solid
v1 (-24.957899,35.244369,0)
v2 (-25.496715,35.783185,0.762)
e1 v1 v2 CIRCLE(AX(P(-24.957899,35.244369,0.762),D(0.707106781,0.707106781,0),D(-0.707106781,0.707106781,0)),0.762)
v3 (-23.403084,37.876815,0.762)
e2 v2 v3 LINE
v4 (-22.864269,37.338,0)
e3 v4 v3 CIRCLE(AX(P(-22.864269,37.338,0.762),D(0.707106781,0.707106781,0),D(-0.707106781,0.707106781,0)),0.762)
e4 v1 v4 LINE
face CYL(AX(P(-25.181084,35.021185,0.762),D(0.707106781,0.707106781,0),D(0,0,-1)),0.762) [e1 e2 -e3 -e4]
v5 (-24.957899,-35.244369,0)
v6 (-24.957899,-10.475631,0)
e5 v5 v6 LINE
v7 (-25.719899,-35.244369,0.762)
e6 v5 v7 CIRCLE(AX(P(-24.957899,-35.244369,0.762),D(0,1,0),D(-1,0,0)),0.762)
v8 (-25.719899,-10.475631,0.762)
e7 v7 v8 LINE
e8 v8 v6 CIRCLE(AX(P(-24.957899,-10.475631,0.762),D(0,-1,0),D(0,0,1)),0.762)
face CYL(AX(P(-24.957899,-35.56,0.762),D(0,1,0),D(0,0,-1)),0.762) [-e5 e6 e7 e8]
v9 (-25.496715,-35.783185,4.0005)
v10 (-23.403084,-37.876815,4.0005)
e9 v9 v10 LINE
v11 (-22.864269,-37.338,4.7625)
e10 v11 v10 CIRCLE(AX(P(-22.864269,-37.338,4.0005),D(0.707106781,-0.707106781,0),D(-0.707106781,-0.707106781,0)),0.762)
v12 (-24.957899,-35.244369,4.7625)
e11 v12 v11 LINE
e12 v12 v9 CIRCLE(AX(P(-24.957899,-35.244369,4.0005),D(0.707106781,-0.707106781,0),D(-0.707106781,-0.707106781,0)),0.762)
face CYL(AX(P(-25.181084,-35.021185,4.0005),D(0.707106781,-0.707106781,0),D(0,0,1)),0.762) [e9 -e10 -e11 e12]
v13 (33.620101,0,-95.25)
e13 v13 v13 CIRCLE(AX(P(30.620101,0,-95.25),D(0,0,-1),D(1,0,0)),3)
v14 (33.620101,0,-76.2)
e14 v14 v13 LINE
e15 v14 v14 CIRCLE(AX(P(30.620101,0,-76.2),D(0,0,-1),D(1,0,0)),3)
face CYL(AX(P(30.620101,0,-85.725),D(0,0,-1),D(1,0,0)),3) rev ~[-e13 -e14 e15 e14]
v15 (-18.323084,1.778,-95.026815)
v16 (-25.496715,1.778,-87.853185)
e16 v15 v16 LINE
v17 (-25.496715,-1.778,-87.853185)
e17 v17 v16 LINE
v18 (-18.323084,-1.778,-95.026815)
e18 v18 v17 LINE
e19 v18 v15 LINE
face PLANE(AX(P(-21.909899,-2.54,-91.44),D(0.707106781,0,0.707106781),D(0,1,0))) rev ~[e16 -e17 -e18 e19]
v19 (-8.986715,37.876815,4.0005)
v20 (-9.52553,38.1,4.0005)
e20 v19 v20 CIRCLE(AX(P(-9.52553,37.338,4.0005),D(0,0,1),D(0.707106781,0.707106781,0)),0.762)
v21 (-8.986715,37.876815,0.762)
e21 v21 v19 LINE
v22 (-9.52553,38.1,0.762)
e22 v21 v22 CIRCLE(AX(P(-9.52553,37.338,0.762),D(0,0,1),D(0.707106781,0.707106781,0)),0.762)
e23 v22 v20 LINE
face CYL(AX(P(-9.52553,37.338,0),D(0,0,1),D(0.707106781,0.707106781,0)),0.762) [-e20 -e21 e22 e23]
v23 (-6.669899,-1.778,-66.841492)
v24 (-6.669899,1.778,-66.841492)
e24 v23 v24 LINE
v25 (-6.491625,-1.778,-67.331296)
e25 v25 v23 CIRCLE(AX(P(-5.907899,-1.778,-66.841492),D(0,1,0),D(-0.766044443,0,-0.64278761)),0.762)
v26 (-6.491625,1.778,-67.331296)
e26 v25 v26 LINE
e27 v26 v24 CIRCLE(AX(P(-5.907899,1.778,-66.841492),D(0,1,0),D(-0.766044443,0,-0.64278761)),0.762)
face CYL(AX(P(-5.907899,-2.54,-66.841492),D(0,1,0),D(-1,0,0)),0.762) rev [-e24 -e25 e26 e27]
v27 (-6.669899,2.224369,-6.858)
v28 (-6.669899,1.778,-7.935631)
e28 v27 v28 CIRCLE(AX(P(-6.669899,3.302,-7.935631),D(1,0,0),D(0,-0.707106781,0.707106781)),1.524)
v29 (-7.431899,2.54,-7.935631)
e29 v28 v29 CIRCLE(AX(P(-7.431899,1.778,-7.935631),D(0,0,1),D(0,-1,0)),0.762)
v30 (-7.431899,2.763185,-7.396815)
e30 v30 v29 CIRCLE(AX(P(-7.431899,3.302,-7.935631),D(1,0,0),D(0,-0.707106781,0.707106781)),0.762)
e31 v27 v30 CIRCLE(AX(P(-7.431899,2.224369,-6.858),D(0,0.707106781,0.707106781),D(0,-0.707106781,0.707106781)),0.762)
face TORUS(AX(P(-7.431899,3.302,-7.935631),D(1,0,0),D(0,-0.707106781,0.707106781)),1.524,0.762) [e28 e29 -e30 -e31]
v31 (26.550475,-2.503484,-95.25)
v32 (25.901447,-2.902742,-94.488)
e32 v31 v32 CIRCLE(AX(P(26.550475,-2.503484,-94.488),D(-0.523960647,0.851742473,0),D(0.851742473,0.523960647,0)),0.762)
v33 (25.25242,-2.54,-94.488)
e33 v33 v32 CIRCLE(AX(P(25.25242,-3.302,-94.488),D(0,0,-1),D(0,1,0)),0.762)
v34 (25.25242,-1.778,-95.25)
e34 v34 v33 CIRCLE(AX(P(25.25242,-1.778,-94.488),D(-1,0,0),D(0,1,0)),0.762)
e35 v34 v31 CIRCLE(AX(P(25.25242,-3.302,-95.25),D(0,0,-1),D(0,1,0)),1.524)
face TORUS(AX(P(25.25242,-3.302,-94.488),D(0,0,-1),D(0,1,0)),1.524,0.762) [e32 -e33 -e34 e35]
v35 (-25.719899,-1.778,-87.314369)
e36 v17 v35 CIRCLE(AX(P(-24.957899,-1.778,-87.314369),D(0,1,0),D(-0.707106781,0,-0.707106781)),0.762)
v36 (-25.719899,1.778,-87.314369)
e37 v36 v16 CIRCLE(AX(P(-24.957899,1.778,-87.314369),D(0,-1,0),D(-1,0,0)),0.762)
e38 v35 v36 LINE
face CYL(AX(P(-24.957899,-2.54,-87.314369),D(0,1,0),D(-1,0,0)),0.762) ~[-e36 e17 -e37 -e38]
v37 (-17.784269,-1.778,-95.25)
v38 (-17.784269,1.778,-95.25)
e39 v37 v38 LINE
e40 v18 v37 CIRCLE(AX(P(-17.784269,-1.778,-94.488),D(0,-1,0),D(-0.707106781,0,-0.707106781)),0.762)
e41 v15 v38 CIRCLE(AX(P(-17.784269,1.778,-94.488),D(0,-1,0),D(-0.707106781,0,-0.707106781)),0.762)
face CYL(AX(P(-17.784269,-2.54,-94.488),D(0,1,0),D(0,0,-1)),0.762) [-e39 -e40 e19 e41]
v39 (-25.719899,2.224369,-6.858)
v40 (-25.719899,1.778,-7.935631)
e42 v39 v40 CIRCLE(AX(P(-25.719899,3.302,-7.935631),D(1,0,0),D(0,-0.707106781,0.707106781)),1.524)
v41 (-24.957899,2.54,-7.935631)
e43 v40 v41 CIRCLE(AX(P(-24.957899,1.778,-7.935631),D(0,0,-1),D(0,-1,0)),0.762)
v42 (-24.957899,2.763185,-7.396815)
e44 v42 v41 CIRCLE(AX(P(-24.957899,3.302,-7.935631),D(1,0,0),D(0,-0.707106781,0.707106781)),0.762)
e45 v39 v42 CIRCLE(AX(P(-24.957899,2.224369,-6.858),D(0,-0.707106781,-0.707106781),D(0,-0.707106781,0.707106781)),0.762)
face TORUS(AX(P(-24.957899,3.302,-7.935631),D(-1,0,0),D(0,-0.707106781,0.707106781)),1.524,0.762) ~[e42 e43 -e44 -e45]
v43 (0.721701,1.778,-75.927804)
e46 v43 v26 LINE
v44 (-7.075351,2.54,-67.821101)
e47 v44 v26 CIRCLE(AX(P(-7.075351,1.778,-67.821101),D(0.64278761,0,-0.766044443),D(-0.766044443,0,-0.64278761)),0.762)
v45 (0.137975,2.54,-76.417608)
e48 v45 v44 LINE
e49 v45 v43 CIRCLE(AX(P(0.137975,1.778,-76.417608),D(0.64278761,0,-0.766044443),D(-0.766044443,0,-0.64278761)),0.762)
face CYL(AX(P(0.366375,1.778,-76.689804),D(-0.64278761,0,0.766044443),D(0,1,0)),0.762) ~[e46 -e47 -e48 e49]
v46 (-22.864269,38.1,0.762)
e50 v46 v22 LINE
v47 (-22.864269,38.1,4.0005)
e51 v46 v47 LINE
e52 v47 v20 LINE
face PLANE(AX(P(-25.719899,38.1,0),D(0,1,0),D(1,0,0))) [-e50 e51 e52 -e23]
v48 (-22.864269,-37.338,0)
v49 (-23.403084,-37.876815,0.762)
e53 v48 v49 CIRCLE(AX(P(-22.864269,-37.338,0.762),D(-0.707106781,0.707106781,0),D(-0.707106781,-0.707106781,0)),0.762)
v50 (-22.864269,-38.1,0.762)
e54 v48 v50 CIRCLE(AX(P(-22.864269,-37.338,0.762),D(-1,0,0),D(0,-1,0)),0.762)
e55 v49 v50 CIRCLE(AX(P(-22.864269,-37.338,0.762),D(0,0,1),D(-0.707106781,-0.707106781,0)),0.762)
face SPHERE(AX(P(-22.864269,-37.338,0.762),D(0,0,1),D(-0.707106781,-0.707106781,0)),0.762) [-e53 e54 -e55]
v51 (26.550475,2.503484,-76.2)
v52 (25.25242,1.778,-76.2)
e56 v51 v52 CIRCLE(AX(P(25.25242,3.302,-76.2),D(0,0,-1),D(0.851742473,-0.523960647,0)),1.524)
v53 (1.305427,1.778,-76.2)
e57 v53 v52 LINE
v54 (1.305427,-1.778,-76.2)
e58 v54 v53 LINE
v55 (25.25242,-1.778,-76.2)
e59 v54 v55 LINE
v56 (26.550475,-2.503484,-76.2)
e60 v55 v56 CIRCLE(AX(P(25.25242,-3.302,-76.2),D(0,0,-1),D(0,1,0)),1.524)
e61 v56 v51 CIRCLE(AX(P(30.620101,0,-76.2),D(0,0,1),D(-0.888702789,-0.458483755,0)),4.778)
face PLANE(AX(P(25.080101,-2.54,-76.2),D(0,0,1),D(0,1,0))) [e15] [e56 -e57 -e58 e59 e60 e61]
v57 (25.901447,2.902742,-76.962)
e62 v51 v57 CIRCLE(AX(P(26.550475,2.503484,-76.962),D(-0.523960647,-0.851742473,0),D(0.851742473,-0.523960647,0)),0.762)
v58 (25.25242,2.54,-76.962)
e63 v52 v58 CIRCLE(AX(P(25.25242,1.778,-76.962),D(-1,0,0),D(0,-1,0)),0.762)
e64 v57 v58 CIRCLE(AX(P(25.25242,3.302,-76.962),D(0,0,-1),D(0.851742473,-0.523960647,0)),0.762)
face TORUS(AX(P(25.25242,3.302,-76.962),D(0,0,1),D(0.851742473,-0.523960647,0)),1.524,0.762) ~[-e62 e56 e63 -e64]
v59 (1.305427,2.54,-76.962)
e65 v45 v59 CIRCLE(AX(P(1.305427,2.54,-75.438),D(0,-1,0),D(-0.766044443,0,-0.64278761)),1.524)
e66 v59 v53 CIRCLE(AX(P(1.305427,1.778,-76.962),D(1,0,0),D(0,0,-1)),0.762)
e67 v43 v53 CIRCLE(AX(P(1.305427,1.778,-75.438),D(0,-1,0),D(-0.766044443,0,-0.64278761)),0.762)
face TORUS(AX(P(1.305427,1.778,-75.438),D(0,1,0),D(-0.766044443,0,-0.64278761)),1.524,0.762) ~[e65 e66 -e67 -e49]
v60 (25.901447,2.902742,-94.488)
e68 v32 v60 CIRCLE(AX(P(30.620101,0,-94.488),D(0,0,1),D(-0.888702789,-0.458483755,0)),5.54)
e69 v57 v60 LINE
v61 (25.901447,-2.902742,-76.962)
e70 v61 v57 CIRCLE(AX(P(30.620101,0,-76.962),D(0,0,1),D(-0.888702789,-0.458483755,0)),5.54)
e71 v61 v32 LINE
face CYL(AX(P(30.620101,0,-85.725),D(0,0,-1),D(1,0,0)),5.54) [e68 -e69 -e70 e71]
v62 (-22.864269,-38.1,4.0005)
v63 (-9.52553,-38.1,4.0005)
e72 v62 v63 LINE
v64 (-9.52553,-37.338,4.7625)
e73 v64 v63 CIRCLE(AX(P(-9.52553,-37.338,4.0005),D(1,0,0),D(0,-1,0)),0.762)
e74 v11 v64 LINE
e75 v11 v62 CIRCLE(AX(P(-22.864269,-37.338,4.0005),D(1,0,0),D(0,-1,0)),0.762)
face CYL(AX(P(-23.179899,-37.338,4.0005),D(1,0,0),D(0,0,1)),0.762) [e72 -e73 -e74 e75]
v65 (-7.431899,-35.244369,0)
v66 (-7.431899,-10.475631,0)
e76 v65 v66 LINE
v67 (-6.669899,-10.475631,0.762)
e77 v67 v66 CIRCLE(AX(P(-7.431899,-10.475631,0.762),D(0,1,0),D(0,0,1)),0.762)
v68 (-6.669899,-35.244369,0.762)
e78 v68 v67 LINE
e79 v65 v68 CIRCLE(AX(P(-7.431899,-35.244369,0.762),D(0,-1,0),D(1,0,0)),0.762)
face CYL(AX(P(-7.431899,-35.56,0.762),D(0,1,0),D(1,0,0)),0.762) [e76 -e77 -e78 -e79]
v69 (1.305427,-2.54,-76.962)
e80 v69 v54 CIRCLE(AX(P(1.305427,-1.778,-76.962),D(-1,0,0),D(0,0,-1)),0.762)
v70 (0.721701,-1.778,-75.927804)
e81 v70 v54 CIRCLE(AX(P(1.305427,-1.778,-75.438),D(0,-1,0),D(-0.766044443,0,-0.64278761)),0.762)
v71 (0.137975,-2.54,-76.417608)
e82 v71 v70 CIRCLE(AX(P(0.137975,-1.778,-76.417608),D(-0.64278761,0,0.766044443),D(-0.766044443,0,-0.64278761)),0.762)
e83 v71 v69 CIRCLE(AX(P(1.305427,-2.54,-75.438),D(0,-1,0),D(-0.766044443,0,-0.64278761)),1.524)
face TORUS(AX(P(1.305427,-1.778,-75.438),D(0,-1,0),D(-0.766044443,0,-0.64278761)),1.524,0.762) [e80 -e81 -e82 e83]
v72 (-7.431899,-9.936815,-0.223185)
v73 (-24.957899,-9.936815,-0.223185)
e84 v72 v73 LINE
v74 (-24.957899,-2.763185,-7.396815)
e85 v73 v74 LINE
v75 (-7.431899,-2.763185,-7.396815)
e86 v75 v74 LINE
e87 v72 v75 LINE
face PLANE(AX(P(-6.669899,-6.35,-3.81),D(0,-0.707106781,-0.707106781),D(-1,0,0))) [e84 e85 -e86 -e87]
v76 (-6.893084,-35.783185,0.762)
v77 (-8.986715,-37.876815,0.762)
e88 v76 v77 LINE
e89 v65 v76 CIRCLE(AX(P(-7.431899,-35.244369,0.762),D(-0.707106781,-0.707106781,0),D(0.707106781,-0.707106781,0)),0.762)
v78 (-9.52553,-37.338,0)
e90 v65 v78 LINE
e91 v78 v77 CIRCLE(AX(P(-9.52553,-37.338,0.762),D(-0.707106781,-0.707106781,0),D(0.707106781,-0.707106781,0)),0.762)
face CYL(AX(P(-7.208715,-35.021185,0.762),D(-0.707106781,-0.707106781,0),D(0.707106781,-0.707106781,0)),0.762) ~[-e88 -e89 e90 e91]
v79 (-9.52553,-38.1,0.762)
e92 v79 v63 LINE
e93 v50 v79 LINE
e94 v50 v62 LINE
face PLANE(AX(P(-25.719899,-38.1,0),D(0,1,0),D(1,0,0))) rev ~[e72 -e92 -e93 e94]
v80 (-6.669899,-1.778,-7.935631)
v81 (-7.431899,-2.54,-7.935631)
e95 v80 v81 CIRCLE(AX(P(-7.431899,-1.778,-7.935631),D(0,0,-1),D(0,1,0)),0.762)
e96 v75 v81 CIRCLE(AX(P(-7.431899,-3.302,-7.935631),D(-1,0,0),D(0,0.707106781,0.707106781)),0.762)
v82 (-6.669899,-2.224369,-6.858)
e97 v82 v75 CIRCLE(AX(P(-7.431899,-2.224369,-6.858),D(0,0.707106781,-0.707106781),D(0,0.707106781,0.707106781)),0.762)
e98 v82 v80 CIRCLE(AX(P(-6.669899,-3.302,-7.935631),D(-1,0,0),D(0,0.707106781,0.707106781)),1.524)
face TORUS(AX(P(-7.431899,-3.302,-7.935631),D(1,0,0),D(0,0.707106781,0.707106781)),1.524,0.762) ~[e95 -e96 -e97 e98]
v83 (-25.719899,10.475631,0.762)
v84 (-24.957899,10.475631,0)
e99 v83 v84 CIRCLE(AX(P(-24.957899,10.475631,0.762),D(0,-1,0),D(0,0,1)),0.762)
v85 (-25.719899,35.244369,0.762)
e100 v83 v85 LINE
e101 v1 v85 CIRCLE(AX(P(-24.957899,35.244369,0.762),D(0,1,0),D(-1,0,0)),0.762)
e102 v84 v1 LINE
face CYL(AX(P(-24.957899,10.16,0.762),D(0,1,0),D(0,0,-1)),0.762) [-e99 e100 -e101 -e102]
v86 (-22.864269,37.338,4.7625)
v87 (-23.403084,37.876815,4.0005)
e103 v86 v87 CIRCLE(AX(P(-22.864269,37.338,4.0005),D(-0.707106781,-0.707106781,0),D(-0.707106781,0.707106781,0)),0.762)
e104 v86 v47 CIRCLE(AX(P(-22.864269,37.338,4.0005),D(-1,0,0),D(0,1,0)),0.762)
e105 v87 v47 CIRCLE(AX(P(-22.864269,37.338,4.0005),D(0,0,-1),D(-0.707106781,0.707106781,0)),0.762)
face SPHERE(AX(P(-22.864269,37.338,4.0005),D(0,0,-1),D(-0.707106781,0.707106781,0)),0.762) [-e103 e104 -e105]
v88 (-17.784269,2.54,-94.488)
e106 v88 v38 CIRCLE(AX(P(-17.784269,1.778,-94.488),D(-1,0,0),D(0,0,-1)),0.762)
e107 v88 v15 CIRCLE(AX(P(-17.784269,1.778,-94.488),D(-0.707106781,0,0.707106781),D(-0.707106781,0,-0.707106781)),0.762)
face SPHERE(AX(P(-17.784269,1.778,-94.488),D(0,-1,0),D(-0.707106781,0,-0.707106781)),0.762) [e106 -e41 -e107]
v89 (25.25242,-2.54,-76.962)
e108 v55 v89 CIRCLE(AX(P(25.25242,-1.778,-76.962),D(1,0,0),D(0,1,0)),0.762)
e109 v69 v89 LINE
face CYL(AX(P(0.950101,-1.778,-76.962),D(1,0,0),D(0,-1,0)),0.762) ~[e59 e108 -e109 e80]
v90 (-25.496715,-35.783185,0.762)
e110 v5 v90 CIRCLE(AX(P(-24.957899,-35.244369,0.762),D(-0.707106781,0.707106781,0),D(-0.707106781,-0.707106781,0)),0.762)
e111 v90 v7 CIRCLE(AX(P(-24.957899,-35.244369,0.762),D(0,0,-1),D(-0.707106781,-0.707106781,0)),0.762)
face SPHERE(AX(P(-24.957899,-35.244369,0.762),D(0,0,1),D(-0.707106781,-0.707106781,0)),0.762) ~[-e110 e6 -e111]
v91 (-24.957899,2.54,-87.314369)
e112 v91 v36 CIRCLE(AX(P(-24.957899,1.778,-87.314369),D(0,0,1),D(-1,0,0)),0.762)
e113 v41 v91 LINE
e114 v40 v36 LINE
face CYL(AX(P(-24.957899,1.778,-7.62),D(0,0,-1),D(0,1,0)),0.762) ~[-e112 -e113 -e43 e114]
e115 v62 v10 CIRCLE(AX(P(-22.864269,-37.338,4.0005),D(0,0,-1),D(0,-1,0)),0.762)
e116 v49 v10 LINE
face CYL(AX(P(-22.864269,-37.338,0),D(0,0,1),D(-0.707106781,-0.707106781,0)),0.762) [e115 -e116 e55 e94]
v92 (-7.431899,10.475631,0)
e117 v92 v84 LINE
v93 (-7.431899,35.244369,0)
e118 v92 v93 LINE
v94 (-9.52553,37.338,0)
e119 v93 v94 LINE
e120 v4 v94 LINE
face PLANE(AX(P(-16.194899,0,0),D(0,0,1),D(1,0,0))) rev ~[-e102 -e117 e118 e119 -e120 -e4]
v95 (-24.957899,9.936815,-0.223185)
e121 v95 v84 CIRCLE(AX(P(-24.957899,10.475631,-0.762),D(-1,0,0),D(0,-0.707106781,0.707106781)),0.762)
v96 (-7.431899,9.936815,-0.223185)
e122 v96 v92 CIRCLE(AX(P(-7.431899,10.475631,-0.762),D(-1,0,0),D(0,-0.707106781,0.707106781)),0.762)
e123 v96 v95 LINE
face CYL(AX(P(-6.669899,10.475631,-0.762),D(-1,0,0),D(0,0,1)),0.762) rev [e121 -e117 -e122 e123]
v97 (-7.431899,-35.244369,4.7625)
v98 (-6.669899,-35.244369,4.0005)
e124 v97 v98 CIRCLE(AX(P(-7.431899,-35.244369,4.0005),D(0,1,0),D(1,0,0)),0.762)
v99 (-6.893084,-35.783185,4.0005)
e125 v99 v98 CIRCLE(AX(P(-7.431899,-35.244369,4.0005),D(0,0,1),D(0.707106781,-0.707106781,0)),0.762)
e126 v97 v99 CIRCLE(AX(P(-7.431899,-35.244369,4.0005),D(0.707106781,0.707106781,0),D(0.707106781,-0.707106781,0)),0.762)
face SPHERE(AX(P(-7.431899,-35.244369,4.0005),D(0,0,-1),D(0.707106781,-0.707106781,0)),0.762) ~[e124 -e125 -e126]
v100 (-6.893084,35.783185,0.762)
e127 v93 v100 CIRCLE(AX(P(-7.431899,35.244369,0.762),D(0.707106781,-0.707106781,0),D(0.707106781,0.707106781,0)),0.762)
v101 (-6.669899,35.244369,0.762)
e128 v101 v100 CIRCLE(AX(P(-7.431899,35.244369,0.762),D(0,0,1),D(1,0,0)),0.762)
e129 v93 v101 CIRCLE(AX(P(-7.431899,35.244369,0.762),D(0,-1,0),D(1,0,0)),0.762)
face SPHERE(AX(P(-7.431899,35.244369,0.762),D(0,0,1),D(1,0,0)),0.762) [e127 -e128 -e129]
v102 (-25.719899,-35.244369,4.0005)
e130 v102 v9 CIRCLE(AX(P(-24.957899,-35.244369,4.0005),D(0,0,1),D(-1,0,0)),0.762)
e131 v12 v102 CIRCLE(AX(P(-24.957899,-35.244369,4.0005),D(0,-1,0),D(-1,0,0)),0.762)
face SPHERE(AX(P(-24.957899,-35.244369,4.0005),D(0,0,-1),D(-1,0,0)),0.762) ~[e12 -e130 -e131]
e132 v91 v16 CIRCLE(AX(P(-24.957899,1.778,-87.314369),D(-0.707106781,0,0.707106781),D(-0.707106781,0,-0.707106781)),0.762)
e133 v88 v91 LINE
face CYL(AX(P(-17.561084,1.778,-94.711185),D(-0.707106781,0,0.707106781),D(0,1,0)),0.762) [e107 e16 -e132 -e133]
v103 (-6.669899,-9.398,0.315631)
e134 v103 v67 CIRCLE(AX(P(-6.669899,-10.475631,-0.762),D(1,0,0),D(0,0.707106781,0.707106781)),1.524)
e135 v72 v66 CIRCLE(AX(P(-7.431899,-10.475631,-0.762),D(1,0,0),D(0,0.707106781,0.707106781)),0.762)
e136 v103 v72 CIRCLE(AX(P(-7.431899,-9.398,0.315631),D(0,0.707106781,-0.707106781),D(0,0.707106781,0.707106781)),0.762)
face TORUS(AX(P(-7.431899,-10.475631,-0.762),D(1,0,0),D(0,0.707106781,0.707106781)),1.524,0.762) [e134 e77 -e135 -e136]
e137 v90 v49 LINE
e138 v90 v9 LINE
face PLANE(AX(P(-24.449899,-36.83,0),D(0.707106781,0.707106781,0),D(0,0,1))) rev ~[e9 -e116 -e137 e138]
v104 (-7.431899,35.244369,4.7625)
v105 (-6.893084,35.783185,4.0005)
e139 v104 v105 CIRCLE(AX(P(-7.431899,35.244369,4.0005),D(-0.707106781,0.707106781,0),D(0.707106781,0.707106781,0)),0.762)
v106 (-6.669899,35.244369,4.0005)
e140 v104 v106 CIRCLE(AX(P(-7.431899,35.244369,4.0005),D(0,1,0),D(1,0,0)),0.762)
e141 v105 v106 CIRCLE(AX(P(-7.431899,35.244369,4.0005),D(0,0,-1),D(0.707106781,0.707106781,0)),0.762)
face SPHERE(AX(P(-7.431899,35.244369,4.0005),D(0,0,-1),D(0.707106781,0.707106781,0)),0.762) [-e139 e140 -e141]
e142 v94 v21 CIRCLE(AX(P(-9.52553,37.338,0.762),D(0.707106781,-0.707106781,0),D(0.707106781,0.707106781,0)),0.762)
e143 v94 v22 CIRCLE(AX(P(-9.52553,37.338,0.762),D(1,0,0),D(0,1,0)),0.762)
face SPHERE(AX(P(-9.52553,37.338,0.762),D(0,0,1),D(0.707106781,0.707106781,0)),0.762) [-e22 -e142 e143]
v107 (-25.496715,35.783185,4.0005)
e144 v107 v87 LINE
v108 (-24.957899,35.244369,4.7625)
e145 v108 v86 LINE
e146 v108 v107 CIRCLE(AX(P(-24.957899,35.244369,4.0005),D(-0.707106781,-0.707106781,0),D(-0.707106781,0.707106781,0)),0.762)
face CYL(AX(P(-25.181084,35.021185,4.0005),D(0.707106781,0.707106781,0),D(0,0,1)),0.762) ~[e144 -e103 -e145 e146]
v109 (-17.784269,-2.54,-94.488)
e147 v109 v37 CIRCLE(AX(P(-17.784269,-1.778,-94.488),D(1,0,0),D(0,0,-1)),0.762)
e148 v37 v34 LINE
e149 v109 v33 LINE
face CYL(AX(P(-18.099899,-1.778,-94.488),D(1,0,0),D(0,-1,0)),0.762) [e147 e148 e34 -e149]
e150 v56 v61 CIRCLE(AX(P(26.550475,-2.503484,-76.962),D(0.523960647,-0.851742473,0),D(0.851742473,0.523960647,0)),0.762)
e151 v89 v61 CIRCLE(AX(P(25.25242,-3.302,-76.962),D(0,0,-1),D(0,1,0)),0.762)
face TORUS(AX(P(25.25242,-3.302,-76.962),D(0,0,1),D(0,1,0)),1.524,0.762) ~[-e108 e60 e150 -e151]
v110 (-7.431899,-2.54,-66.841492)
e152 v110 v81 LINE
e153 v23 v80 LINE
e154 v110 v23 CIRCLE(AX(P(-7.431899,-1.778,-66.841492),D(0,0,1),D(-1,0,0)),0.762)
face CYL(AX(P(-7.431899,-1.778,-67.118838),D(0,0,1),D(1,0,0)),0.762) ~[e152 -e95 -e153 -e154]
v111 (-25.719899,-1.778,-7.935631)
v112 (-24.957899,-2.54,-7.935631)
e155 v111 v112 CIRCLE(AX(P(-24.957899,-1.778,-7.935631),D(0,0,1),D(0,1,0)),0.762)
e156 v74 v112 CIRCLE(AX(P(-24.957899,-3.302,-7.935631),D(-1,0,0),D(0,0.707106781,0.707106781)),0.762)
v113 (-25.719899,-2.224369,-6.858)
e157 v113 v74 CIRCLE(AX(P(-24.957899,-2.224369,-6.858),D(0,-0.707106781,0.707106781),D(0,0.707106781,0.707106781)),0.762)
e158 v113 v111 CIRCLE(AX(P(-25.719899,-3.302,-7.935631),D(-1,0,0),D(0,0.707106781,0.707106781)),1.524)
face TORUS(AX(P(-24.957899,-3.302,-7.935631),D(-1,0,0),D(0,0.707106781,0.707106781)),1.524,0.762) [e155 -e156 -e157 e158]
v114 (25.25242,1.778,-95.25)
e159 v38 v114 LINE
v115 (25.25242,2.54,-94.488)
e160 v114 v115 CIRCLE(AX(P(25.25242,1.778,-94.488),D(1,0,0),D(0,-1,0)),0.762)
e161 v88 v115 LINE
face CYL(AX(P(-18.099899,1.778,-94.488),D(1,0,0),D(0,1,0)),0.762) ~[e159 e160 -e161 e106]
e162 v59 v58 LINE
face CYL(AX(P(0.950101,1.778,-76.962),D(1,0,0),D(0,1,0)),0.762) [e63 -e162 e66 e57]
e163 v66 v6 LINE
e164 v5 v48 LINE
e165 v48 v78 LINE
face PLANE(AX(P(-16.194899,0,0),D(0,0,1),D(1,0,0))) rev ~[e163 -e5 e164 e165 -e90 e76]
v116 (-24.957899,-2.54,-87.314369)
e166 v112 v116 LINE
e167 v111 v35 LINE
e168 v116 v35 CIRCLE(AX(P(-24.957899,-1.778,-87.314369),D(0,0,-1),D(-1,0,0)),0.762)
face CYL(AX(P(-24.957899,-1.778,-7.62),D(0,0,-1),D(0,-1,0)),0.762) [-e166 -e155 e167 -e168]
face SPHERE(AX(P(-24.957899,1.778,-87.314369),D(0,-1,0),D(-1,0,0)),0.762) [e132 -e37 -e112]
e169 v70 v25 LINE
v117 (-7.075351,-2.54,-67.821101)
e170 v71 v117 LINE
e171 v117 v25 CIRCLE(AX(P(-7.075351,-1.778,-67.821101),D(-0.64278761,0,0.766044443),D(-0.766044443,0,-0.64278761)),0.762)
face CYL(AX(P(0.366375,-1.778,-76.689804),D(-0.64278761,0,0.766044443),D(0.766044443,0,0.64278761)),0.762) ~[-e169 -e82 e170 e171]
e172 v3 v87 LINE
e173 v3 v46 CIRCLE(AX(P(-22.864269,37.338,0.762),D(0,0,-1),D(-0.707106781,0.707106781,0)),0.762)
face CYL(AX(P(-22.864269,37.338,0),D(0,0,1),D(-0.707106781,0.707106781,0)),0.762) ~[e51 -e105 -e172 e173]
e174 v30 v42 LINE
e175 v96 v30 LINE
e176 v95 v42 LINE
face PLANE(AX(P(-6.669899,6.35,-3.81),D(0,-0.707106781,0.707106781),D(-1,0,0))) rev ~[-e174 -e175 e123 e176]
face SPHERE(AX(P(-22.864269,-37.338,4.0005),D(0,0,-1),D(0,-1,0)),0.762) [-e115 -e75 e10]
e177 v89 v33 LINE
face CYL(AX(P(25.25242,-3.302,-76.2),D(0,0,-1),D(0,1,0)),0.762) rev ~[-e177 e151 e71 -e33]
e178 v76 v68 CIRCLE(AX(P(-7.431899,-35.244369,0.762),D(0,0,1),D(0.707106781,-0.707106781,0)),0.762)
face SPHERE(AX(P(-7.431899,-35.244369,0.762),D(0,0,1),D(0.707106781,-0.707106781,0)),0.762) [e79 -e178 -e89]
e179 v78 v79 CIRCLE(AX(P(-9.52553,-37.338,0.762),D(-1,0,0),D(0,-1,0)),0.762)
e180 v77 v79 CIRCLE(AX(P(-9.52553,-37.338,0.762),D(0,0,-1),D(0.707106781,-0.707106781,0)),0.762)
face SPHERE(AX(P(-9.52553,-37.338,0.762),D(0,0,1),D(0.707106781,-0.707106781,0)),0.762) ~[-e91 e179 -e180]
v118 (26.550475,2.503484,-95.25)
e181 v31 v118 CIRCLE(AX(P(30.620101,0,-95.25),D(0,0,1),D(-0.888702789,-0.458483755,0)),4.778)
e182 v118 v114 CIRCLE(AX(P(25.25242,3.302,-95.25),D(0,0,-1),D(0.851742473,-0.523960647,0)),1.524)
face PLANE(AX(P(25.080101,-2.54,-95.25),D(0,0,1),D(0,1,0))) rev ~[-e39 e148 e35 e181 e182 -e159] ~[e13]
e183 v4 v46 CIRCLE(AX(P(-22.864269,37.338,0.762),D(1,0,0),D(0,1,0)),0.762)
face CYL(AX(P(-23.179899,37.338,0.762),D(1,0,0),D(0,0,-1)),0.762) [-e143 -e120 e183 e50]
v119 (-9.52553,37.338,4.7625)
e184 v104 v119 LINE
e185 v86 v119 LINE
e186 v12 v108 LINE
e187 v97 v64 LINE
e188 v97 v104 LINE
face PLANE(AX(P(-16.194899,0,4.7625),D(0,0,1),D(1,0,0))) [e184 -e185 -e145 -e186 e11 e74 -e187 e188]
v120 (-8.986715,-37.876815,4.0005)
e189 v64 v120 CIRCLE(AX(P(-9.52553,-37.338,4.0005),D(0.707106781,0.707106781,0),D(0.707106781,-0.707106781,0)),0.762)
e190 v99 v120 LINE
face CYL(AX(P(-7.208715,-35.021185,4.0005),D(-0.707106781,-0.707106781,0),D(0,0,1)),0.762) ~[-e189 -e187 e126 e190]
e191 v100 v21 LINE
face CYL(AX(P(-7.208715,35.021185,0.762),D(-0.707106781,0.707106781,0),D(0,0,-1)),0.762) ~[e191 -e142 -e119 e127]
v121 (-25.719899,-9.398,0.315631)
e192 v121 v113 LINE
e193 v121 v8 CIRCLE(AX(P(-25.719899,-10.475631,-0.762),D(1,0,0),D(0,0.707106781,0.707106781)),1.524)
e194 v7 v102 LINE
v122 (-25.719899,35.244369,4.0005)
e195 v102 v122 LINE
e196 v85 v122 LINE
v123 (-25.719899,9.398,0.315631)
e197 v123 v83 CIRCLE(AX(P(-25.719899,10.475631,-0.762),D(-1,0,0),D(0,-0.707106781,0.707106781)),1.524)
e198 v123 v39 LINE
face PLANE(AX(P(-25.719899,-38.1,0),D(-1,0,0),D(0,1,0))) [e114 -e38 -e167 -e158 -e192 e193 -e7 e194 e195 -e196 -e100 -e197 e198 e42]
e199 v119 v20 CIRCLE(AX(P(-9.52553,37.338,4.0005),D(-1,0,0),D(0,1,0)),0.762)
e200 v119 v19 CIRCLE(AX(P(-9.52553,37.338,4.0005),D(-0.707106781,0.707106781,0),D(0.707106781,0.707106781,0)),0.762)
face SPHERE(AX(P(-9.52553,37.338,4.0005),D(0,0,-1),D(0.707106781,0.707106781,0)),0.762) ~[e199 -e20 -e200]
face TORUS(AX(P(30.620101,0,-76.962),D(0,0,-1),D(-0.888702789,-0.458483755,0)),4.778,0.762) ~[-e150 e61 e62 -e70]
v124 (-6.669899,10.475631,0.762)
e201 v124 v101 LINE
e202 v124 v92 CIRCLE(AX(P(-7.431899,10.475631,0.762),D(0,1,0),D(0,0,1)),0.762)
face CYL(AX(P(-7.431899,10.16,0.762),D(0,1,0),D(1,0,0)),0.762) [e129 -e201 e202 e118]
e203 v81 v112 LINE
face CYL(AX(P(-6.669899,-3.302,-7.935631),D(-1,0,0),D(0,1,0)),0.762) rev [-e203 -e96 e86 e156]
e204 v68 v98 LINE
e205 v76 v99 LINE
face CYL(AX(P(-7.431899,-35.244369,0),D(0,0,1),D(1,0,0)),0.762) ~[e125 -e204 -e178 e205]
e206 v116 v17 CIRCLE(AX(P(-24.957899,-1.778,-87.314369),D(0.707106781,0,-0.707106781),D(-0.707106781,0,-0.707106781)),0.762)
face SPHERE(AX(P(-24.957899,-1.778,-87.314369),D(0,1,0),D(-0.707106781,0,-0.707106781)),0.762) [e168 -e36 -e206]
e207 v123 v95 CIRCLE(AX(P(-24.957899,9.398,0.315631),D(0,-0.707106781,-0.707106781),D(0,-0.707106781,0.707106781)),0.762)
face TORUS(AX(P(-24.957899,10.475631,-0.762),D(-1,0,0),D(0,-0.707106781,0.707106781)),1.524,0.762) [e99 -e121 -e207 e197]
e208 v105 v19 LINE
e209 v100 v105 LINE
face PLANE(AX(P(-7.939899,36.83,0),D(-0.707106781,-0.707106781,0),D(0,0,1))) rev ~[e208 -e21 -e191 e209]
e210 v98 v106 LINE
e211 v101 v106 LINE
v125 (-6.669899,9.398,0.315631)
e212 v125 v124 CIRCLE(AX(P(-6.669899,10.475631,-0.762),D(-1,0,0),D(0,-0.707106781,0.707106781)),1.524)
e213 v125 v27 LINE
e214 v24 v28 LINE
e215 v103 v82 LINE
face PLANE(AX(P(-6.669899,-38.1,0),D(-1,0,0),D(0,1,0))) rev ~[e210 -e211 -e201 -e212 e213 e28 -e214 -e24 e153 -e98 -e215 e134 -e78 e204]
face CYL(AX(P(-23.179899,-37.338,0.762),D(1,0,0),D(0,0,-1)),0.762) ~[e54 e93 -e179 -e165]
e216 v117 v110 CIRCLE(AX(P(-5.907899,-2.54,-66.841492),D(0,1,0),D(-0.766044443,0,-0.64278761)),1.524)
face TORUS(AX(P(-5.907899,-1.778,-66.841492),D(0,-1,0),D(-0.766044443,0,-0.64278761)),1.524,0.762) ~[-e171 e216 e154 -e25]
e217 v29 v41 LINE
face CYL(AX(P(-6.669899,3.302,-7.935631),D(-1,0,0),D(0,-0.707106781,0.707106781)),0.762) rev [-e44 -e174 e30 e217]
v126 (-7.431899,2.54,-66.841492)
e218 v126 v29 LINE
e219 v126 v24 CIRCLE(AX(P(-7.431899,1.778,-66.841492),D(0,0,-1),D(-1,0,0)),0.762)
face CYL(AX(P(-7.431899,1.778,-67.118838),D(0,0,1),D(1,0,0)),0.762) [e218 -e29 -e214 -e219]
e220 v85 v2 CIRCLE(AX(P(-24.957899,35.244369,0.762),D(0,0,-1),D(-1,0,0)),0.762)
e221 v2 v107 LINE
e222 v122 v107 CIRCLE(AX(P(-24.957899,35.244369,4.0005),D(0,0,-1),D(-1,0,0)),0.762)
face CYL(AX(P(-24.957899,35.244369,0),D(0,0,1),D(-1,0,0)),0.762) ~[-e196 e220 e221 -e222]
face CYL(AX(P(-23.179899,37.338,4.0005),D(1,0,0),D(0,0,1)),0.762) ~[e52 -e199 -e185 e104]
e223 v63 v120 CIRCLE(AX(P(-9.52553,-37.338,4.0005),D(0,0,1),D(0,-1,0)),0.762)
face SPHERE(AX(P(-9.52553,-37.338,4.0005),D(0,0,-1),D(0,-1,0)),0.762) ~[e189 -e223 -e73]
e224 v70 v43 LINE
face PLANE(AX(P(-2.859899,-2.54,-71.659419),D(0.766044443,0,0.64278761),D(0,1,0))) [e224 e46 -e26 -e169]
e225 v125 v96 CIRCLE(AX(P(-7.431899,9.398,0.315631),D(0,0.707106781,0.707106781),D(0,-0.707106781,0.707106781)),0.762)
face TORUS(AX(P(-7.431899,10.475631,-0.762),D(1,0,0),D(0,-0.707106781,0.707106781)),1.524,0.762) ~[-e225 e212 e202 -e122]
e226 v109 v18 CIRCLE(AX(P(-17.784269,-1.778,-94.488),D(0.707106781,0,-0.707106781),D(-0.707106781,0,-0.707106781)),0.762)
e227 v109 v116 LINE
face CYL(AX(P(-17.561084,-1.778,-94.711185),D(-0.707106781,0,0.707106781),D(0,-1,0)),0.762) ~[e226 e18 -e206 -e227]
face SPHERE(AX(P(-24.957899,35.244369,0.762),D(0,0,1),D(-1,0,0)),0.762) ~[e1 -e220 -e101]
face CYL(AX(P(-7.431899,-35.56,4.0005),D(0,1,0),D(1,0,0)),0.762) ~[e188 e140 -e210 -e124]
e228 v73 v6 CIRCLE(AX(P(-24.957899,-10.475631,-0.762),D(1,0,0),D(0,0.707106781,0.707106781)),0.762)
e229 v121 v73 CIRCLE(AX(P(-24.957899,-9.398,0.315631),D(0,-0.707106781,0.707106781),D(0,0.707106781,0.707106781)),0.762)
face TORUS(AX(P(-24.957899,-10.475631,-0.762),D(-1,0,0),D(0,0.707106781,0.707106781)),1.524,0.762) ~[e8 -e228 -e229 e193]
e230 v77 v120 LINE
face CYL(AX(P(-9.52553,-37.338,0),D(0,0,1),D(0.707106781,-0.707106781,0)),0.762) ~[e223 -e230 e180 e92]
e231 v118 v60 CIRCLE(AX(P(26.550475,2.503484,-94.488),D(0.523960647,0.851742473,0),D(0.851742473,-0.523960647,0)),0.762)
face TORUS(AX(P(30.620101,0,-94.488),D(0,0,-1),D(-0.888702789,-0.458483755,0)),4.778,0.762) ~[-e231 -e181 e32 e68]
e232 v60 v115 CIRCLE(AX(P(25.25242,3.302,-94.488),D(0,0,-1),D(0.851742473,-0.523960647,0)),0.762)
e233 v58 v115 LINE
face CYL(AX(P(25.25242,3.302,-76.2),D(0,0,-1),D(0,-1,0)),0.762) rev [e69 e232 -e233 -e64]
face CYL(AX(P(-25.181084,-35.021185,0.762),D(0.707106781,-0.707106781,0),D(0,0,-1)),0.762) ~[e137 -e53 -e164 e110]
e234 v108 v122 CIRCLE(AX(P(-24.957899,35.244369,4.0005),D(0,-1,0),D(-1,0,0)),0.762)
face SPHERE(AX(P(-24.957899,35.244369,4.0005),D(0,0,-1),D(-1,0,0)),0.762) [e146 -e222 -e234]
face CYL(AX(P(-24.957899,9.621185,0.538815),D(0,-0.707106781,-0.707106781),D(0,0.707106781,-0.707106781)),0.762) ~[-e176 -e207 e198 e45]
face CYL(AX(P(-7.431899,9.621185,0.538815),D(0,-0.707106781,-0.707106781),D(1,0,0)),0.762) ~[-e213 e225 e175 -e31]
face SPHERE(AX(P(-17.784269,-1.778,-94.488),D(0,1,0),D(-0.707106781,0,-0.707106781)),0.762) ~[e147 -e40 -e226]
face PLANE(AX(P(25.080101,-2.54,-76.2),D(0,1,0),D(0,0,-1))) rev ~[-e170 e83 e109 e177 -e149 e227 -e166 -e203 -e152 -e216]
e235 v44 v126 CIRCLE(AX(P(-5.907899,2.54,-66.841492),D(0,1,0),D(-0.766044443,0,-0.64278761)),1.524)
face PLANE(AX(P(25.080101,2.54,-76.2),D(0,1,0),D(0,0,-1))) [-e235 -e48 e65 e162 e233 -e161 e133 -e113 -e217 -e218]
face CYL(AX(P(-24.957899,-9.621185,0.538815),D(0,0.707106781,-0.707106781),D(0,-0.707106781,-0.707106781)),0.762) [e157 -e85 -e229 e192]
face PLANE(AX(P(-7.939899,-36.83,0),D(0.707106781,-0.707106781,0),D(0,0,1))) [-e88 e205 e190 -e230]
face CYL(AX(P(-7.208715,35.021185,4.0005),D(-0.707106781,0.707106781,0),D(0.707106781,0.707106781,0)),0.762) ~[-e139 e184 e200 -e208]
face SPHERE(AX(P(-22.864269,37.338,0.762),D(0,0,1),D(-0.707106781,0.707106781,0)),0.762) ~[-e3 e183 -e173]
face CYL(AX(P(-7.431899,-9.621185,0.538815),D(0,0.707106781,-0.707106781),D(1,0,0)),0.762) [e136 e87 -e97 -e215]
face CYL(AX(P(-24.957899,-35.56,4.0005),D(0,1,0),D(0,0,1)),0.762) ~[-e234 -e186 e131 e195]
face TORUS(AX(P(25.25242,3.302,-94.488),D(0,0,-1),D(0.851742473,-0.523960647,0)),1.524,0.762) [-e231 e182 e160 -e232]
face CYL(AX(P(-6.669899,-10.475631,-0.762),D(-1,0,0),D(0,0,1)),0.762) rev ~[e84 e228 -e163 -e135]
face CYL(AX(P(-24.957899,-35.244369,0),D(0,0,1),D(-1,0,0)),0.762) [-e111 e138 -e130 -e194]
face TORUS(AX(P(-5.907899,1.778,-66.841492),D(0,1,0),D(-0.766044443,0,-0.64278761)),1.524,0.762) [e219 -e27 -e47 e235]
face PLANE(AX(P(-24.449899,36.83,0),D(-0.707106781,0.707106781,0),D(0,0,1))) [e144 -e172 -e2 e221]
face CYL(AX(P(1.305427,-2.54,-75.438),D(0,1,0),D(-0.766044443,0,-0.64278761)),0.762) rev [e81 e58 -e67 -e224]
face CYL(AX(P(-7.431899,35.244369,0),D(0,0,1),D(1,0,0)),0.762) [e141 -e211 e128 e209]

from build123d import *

# Parameters (mm, degrees)
BOSS_EXTRUDE1_DEPTH      = 2.54
BOSS_EXTRUDE1_DEPTH_BACK = 2.54
SKETCH2_W                = 19.05
SKETCH2_H                = 76.2
BOSS_EXTRUDE2_DEPTH      = 4.7625
CHAMFER1_SIZE            = 7.62
SKETCH3_W                = 2.54
SKETCH3_H                = 19.05
BOSS_EXTRUDE3_REACH      = 116.476
SKETCH4_W                = 19.05
SKETCH4_H                = 5.08
CHAMFER2_SIZE            = 7.62
CHAMFER3_SIZE            = 7.62
CHAMFER3_SIZE2           = 9.081162376
CHAMFER4_SIZE            = 2.54
FILLET2_R                = 0.762


with BuildPart() as part:
    # Sketch1 → Boss-Extrude1 (new, two sides: drawn at the far end of the back side and taken through both)
    with BuildSketch(Plane(origin=(0, 0, 0), x_dir=(1, 0, 0), z_dir=(0, 1, 0)).offset(-BOSS_EXTRUDE1_DEPTH_BACK)):
        Polygon((-25.719899244, 0), (-25.719899244, 95.25), (25.080100756, 95.25), (25.080100756, 76.2), (-6.669899244, 76.2), (-6.669899244, 0), align=None)
    extrude(amount=BOSS_EXTRUDE1_DEPTH + BOSS_EXTRUDE1_DEPTH_BACK)

    # Sketch2 → Boss-Extrude2 (add)
    with BuildSketch(Plane.XY):
        with Locations((-16.194899244, 0)):
            Rectangle(SKETCH2_W, SKETCH2_H)
    extrude(amount=BOSS_EXTRUDE2_DEPTH)

    # Chamfer1
    chamfer1_edges = [part.edges().sort_by_distance(p)[0] for p in [
        (-16.194899244, 2.54, 0),
        (-16.194899244, -2.54, 0),
    ]]
    chamfer(chamfer1_edges, length=CHAMFER1_SIZE)


with BuildPart() as body_2:
    # Sketch3 → Revolve1 (revolve)
    with BuildSketch(Plane(origin=(0, 0, 0), x_dir=(1, 0, 0), z_dir=(0, 1, 0))):
        with Locations((26.350100756, 85.725)):
            Rectangle(SKETCH3_W, SKETCH3_H)
    revolve(axis=Axis((30.620100756, 0, -76.2), (0, 0, -1)))

    # Boss-Extrude3: up to this face of the body
    boss_extrude3_end = body_2.part.faces().sort_by_distance((36.160100756, 0, -85.725))[0]
    # Sketch4 → Boss-Extrude3 (add, up to the picked face)
    with BuildSketch(Plane(origin=(25.080100756, 0, 0), x_dir=(0, 0, -1), z_dir=(1, 0, 0)), mode=Mode.PRIVATE) as boss_extrude3_sk1:
        with Locations((85.725, 0)):
            Rectangle(SKETCH4_W, SKETCH4_H)
    boss_extrude3_tool1 = split(extrude(boss_extrude3_sk1.sketch, amount=BOSS_EXTRUDE3_REACH, mode=Mode.PRIVATE), bisect_by=boss_extrude3_end, keep=Keep.BOTH, mode=Mode.PRIVATE)

    add(part.part)  # Boss-Extrude3 merges part
    add(boss_extrude3_tool1.solids().sort_by(Axis((25.080101, 0, -85.725), (1, 0, 0)))[0])
    add(boss_extrude3_tool1.solids().sort_by(Axis((25.080101, 0, -85.725), (1, 0, 0)))[1])

    # Chamfer2
    chamfer2_edges = [body_2.edges().sort_by_distance(p)[0] for p in [
        (-25.719899244, 0, -95.25),
    ]]
    chamfer(chamfer2_edges, length=CHAMFER2_SIZE)

    # Chamfer3
    chamfer3_edges = [body_2.edges().sort_by_distance(p)[0] for p in [
        (-6.669899244, 0, -76.2),
    ]]
    chamfer3_side = [body_2.faces().sort_by_distance(p)[0] for p in [
        (15.608602047, 0, -76.2),
    ]]
    chamfer(chamfer3_edges, length=CHAMFER3_SIZE, length2=CHAMFER3_SIZE2, reference=chamfer3_side[0])

    # Chamfer4
    chamfer4_edges = [body_2.edges().sort_by_distance(p)[0] for p in [
        (-6.669899244, 38.1, 2.38125),
        (-25.719899244, 38.1, 2.38125),
        (-25.719899244, -38.1, 2.38125),
        (-6.669899244, -38.1, 2.38125),
    ]]
    chamfer(chamfer4_edges, length=CHAMFER4_SIZE)

    # Fillet2
    fillet2_edges = [body_2.edges().sort_by_distance(p)[0] for p in [
        (-9.209899244, -38.1, 2.38125),
        (-7.939899244, -36.83, 4.7625),
        (-16.194899244, -38.1, 4.7625),
        (-16.194899244, -38.1, 0),
        (-23.179899244, -38.1, 2.38125),
        (-6.669899244, -35.56, 2.38125),
        (-7.939899244, -36.83, 0),
        (-7.939899244, 36.83, 4.7625),
        (-6.669899244, 0, 4.7625),
        (-24.449899244, -36.83, 4.7625),
        (-16.194899244, 38.1, 4.7625),
        (-9.209899244, 38.1, 2.38125),
        (-25.719899244, -35.56, 2.38125),
        (-24.449899244, -36.83, 0),
        (-6.669899244, -22.86, 0),
        (-6.669899244, 35.56, 2.38125),
        (-7.939899244, 36.83, 0),
        (-25.719899244, 0, 4.7625),
        (-24.449899244, 36.83, 4.7625),
        (-23.179899244, 38.1, 2.38125),
        (-16.194899244, 38.1, 0),
        (-16.194899244, -10.16, 0),
        (-25.719899244, -22.86, 0),
        (-6.669899244, -6.35, -3.81),
        (-6.669899244, 22.86, 0),
        (-25.719899244, 35.56, 2.38125),
        (-24.449899244, 36.83, 0),
        (-6.669899244, -2.54, -37.369418812),
        (-25.719899244, -6.35, -3.81),
        (-16.194899244, -2.54, -7.62),
        (-6.669899244, 6.35, -3.81),
        (-16.194899244, 10.16, 0),
        (-25.719899244, 22.86, 0),
        (-6.669899244, 2.54, -37.369418812),
        (-6.669899244, 0, -67.118837624),
        (-2.859899244, -2.54, -71.659418812),
        (-25.719899244, -2.54, -47.625),
        (-16.194899244, 2.54, -7.62),
        (-25.719899244, 6.35, -3.81),
        (0.950100756, 0, -76.2),
        (-2.859899244, 2.54, -71.659418812),
        (13.323394031, -2.54, -76.2),
        (-21.909899244, -2.54, -91.44),
        (-25.719899244, 0, -87.63),
        (-25.719899244, 2.54, -47.625),
        (36.160100756, 0, -76.2),
        (13.323394031, 2.54, -76.2),
        (25.696687306, -2.54, -85.725),
        (3.798394031, -2.54, -95.25),
        (-18.099899244, 0, -95.25),
        (-21.909899244, 2.54, -91.44),
        (25.696687306, 2.54, -85.725),
        (36.160100756, 0, -95.25),
        (3.798394031, 2.54, -95.25),
    ]]
    fillet(fillet2_edges, radius=FILLET2_R)


solid = body_2.part
